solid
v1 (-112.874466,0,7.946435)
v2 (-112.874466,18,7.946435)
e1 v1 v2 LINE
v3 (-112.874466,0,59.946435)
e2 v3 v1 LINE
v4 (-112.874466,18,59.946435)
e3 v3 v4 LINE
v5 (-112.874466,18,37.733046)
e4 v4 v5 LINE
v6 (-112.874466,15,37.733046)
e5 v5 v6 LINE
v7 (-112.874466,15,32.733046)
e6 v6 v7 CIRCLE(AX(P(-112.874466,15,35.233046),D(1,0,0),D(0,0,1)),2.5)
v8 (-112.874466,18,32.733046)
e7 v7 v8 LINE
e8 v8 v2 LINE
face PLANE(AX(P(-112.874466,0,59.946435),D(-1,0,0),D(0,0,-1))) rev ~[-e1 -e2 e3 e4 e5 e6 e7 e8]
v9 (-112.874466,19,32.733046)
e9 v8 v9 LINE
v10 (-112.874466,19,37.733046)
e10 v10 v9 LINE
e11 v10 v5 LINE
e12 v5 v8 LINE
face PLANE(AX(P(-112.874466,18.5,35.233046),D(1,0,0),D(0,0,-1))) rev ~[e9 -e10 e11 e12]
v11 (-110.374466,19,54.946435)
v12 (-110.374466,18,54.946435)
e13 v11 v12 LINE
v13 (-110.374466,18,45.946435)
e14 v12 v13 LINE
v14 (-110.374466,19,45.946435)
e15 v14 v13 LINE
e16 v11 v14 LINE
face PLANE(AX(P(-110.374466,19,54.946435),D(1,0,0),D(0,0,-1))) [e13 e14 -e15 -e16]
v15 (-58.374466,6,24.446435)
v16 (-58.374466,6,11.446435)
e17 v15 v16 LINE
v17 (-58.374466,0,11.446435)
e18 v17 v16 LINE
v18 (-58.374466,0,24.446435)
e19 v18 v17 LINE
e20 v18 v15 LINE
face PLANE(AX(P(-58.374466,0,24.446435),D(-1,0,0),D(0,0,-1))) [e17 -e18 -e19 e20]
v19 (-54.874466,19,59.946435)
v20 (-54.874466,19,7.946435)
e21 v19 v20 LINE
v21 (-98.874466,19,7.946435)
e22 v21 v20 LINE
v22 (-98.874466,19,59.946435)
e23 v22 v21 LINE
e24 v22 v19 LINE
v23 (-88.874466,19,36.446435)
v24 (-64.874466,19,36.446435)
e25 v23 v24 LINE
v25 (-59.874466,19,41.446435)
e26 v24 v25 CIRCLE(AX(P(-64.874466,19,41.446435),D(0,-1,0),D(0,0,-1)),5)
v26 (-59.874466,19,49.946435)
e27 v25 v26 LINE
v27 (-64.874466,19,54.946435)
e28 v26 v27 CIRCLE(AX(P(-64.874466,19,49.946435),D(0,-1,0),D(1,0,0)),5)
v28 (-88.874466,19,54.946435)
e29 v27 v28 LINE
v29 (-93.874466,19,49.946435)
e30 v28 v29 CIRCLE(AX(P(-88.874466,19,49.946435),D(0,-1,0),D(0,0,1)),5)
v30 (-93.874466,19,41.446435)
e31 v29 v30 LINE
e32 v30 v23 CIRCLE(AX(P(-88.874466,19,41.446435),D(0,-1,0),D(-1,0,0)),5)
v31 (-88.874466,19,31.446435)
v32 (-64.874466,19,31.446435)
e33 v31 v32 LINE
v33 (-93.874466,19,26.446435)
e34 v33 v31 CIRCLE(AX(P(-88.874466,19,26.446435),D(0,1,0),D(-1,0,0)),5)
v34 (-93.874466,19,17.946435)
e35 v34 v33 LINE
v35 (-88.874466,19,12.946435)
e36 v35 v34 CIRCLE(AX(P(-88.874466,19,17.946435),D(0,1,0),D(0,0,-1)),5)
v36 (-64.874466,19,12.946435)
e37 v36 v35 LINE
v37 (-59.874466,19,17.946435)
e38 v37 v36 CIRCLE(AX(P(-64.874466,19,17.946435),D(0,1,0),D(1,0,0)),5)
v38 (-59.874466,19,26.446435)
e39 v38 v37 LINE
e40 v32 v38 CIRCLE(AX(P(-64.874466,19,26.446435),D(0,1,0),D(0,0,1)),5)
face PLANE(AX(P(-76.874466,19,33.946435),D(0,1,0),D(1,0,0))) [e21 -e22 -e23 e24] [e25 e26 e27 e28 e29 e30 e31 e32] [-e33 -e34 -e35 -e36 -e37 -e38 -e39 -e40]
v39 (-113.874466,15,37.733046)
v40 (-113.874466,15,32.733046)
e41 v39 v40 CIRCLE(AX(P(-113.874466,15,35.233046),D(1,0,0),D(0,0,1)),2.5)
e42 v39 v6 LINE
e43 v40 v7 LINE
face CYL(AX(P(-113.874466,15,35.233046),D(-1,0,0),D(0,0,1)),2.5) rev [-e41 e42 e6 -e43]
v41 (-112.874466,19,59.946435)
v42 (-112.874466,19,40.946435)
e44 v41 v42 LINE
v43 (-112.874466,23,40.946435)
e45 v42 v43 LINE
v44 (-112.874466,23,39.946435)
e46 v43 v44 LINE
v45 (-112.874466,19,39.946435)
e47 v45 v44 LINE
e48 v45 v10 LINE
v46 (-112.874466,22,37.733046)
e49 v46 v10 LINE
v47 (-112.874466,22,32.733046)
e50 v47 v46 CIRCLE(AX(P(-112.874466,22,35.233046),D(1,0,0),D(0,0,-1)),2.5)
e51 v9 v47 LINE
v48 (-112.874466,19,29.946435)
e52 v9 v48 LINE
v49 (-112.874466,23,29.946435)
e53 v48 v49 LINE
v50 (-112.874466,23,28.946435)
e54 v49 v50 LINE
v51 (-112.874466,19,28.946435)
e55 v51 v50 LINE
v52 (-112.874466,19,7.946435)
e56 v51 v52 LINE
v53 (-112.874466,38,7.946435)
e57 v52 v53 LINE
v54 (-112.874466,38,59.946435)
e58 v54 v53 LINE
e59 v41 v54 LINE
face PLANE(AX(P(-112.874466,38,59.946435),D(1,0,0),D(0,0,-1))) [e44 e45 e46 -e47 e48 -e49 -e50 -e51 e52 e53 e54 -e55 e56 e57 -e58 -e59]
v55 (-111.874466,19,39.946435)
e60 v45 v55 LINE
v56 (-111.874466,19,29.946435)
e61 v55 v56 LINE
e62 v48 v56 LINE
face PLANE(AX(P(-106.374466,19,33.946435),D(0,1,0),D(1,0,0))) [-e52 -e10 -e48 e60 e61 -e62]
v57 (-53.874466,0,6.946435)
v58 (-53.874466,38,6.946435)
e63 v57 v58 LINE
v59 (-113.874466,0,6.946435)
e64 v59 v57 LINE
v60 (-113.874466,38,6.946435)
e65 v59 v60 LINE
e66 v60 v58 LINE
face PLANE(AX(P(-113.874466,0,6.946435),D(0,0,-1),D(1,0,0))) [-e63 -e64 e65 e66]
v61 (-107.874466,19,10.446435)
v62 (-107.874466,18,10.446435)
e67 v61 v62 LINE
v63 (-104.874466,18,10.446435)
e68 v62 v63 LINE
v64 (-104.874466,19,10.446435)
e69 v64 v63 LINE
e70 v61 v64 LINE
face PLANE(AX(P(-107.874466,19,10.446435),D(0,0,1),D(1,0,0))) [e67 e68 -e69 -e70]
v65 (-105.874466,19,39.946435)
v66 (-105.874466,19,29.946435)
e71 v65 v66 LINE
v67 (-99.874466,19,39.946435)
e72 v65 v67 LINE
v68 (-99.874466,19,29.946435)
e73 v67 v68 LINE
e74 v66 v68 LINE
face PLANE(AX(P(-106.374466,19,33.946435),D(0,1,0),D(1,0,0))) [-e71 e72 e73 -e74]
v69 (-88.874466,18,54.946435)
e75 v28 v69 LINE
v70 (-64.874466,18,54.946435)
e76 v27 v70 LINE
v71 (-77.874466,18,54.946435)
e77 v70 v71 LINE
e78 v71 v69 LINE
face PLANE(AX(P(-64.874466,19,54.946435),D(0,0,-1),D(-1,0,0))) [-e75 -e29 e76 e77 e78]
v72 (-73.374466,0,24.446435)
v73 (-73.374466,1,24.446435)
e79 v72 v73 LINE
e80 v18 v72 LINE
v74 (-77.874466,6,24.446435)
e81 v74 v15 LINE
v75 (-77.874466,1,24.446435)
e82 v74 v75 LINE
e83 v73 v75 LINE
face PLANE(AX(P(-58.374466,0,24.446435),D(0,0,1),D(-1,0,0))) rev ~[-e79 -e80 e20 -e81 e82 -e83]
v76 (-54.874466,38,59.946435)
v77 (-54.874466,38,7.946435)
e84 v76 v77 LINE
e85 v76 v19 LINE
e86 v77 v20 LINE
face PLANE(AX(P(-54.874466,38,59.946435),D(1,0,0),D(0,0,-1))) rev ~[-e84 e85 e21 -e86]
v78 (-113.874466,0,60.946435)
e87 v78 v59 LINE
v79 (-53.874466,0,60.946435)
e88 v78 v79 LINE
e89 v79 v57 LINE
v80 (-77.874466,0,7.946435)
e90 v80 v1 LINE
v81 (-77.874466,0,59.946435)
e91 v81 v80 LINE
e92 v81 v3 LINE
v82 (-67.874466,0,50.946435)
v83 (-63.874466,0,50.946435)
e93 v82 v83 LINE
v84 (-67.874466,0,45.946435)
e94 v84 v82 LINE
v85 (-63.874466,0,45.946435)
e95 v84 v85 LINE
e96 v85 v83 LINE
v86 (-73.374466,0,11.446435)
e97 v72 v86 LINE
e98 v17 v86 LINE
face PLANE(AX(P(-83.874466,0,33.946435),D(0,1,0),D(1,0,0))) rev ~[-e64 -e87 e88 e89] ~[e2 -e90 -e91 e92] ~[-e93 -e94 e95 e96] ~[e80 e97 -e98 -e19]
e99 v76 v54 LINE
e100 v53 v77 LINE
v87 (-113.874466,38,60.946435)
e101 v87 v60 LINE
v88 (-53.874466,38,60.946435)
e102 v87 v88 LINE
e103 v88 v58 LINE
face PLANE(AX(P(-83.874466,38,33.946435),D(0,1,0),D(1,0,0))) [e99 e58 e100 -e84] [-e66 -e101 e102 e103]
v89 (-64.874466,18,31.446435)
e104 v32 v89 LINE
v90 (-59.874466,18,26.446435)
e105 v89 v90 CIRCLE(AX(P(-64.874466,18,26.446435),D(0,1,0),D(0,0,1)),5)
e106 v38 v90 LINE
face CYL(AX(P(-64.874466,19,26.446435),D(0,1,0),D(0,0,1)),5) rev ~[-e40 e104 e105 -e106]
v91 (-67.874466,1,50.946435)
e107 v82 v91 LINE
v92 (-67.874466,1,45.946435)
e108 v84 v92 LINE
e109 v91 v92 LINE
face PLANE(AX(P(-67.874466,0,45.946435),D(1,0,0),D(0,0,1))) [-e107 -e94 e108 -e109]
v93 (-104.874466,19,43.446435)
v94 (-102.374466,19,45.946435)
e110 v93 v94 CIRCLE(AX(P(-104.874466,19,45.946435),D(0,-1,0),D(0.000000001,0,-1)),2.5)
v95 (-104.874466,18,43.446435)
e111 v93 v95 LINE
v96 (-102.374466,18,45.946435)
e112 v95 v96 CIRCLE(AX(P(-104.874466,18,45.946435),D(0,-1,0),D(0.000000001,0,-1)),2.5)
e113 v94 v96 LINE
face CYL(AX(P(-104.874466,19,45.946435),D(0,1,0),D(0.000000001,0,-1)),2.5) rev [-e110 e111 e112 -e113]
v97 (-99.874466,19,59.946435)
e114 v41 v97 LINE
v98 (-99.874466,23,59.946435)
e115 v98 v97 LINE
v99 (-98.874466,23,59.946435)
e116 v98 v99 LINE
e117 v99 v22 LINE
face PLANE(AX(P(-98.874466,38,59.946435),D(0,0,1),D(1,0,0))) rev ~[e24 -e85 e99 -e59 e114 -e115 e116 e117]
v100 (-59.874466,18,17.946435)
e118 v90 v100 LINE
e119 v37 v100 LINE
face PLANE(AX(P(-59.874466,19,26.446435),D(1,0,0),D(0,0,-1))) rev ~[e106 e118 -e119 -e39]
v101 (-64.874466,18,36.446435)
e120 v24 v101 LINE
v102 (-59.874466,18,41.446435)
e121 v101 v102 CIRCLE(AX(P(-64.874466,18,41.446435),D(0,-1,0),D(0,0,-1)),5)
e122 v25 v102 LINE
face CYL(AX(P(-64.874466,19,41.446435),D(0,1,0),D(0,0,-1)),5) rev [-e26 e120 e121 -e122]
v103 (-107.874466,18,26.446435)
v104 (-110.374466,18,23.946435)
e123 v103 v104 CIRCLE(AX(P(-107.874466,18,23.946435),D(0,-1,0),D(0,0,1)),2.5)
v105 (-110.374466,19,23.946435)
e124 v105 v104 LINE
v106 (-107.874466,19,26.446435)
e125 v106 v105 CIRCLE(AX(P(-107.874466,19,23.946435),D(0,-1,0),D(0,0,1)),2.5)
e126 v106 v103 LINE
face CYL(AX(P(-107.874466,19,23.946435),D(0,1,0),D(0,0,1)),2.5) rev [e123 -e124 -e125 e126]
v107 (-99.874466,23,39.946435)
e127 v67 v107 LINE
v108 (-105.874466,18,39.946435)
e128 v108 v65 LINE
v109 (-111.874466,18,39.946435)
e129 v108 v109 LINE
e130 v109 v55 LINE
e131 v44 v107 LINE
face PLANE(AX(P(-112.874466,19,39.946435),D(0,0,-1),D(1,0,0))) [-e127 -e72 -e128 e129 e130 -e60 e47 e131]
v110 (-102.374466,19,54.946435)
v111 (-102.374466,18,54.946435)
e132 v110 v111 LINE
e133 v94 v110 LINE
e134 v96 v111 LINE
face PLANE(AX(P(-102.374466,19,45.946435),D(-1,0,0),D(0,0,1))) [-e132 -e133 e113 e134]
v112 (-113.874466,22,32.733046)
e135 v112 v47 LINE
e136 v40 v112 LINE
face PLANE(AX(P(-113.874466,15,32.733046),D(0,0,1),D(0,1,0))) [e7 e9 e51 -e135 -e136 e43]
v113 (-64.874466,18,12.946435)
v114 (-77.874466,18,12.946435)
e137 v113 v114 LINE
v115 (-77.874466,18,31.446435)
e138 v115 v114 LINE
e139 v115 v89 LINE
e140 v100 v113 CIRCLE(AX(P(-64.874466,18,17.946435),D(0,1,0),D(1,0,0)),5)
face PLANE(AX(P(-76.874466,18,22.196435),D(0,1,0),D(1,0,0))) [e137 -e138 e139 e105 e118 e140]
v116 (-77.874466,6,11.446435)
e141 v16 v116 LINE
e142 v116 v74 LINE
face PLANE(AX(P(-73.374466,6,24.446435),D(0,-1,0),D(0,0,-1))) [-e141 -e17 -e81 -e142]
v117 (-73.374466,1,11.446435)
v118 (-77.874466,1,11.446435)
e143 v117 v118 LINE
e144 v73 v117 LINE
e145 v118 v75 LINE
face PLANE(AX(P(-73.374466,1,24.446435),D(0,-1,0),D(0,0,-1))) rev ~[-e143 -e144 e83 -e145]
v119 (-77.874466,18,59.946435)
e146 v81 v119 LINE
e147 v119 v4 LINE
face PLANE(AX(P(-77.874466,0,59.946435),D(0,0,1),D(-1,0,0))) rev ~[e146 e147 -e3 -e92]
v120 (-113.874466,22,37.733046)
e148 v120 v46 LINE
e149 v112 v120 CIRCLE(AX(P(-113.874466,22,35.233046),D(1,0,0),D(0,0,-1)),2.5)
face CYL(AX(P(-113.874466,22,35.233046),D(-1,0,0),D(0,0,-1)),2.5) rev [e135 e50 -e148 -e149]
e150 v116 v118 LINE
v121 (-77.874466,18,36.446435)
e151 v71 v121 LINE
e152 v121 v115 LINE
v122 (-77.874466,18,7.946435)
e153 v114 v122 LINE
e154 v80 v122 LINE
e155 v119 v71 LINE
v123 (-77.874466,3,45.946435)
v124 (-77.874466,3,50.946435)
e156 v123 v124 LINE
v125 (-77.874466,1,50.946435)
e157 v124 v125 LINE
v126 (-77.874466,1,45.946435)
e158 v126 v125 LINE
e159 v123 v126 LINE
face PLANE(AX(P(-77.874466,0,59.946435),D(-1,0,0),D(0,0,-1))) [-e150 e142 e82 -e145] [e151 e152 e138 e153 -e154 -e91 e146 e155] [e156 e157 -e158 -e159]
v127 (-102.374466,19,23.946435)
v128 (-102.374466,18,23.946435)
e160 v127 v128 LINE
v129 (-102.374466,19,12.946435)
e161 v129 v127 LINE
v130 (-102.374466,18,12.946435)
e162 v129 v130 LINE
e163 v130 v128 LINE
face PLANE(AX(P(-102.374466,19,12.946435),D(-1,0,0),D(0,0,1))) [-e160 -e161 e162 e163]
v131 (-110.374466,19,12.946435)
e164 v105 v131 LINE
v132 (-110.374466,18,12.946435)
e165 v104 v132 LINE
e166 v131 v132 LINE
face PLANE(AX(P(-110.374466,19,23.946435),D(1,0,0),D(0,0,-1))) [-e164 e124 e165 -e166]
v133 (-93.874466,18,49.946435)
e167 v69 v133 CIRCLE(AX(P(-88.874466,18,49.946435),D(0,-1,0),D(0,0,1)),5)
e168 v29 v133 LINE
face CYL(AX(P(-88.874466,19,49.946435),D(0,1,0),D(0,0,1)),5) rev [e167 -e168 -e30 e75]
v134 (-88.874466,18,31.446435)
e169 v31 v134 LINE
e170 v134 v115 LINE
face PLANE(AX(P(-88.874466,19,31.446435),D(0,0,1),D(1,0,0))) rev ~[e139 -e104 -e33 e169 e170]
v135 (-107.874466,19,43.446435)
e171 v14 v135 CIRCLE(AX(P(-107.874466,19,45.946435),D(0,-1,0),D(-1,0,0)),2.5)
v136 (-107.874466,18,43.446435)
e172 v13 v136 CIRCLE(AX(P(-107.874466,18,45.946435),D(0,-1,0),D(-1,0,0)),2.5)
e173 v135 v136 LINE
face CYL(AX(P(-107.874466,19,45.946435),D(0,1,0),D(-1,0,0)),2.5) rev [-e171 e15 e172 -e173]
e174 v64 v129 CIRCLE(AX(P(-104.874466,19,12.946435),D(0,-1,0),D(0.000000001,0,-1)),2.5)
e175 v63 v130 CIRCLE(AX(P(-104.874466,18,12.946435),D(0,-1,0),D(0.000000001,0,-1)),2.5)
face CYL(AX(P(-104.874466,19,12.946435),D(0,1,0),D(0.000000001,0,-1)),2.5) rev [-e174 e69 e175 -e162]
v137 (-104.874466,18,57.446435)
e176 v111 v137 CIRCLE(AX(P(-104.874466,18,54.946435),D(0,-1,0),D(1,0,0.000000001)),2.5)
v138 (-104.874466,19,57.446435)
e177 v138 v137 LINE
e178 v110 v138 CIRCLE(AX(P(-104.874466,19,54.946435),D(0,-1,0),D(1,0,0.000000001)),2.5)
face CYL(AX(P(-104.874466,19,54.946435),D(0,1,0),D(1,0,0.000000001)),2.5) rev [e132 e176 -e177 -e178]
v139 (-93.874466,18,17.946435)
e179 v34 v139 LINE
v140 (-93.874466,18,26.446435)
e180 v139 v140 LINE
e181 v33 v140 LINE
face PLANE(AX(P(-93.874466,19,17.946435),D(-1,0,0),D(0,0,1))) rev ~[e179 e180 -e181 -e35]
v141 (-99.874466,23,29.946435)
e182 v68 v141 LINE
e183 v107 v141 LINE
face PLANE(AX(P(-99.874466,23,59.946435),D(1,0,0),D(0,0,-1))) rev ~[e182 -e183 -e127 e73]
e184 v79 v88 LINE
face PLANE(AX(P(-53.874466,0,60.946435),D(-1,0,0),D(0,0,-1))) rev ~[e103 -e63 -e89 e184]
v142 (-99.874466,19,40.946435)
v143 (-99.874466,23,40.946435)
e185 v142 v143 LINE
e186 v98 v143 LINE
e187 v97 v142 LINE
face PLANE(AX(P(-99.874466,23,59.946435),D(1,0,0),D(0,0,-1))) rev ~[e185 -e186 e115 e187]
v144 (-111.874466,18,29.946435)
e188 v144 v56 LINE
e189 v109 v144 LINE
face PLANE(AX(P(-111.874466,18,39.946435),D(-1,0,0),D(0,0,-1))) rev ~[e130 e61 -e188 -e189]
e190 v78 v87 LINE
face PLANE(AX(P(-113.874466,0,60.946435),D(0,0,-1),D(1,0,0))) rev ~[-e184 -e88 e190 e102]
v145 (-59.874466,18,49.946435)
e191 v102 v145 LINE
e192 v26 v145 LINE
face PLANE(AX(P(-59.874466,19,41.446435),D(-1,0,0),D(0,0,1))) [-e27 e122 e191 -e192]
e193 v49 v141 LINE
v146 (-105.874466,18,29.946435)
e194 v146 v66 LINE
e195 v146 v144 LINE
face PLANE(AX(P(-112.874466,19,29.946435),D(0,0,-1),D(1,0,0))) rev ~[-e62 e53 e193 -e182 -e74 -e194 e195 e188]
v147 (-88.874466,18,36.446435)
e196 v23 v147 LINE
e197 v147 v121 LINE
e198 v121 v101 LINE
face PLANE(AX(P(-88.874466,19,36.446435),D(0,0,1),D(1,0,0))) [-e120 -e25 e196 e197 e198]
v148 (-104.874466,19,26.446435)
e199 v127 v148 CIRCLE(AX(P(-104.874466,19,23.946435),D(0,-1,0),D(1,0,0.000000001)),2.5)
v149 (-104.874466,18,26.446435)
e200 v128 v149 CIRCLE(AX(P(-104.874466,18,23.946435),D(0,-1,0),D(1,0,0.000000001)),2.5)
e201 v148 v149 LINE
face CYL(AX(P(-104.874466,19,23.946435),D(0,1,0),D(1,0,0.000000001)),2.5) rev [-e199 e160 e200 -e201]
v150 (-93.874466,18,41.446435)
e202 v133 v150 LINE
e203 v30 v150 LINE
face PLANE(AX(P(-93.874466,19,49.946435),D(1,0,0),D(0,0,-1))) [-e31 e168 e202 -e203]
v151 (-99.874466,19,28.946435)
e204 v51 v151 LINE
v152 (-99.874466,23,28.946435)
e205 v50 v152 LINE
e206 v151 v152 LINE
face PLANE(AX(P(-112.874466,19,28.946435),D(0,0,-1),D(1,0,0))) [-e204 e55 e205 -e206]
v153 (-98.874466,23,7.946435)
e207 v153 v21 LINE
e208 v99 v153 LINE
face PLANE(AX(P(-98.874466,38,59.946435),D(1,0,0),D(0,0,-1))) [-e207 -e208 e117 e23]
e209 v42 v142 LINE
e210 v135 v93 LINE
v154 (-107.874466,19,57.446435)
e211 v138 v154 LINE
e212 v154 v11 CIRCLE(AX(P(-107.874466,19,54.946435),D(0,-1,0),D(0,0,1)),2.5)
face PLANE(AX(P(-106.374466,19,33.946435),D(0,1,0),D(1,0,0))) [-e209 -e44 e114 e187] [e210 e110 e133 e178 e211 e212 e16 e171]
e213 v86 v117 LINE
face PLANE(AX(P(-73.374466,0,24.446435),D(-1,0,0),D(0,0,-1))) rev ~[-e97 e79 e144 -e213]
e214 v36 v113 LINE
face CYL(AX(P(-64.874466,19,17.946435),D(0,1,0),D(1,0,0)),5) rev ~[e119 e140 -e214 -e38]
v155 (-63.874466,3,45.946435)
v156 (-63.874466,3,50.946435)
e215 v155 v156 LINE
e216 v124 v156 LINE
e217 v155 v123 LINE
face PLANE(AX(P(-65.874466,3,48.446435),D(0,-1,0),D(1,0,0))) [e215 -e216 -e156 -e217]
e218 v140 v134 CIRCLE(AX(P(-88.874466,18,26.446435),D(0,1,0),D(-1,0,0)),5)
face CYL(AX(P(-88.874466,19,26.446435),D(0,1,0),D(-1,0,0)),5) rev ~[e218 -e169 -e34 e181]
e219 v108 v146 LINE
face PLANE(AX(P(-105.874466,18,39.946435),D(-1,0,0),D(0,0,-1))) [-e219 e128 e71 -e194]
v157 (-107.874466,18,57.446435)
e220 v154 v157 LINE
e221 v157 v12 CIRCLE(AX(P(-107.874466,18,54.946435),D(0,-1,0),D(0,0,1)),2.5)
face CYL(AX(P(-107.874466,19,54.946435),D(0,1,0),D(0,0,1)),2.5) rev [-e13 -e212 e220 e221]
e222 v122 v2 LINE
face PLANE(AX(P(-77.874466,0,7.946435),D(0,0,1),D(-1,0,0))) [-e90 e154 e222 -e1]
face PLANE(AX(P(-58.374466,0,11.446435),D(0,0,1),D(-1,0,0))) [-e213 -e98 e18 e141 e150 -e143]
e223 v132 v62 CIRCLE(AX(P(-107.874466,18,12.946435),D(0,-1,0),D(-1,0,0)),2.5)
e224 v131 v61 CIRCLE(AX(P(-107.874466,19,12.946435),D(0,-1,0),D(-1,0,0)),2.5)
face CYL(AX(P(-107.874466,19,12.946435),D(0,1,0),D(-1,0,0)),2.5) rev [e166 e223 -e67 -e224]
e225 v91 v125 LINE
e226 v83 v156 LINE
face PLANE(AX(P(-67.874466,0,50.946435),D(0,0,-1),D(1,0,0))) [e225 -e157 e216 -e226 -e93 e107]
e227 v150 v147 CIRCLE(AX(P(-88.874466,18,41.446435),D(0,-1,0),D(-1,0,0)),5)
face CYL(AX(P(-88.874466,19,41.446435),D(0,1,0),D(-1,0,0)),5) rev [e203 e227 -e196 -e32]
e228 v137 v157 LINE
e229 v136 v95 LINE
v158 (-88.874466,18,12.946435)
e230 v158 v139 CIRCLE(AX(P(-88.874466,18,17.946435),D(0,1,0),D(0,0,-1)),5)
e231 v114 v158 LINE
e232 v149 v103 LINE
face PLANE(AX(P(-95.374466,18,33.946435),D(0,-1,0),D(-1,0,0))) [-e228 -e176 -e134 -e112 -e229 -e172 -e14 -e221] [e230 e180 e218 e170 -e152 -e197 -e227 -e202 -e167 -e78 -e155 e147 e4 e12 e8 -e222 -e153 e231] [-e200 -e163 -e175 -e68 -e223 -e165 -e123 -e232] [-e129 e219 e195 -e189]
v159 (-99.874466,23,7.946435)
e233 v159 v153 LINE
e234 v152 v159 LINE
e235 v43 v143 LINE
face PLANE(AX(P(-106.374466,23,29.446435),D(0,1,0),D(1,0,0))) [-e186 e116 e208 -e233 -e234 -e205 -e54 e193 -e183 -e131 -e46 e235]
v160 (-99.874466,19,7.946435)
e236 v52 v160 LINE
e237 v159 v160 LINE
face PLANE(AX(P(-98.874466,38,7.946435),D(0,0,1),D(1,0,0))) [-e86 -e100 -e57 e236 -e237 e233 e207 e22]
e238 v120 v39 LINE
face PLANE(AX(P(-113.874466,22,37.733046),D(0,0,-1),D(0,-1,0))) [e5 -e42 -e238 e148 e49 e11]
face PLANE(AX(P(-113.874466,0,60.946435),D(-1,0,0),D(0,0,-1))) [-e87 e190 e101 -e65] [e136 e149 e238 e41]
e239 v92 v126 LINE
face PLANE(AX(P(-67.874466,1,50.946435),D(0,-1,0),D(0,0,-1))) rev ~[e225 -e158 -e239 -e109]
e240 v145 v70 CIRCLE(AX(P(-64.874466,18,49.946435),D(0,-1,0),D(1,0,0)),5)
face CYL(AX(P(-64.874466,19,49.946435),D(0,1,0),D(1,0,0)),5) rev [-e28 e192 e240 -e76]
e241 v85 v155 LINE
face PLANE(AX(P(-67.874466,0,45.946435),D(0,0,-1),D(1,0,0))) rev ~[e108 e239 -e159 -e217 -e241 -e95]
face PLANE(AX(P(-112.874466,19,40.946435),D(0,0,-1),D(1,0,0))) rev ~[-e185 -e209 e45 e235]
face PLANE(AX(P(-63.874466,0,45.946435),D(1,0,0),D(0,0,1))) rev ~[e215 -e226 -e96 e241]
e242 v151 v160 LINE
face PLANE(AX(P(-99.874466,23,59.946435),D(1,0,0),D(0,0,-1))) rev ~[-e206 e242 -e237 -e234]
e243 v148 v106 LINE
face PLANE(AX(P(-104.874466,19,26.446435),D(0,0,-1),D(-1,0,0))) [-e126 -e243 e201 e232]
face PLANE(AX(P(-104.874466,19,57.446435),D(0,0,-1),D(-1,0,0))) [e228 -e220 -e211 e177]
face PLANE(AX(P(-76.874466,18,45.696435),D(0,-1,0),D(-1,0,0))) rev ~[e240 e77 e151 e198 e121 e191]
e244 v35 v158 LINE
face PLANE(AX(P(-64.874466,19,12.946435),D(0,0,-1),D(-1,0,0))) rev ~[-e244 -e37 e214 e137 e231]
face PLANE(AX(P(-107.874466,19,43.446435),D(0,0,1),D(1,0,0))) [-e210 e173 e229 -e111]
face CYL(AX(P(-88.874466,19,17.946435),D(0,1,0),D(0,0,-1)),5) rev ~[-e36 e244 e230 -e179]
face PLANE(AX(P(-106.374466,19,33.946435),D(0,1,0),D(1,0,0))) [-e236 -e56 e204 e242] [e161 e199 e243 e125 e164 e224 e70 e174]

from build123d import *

# Parameters (mm, degrees)
SKETCH1_W           = 60
SKETCH1_H           = 54
BOSS_EXTRUDE1_DEPTH = 38
SKETCH2_W           = 44
SKETCH2_H           = 52
CUT_EXTRUDE1_DEPTH  = 19
SKETCH3_W           = 35
SKETCH3_H           = 52
CUT_EXTRUDE2_DEPTH  = 18
SKETCH4_W           = 6
SKETCH4_H           = 10
CUT_EXTRUDE3_DEPTH  = 38
SKETCH5_W           = 14
SKETCH5_H           = 52
CUT_EXTRUDE5_DEPTH  = 15
SKETCH6_W           = 13
SKETCH6_H           = 52
CUT_EXTRUDE6_DEPTH  = 4
SKETCH8_W           = 15
SKETCH8_H           = 13
CUT_EXTRUDE7_DEPTH  = 6
SKETCH10_W          = 13
SKETCH10_H          = 5
CUT_EXTRUDE8_DEPTH  = 6
SKETCH11_W          = 4
SKETCH11_H          = 5
CUT_EXTRUDE9_DEPTH  = 3
SKETCH12_W          = 5
SKETCH12_H          = 2
CUT_EXTRUDE10_DEPTH = 13
CUT_EXTRUDE11_DEPTH = 1
SKETCH14_W          = 13
SKETCH14_H          = 1
BOSS_EXTRUDE2_DEPTH = 4
SKETCH15_W          = 13
SKETCH15_H          = 1
BOSS_EXTRUDE3_DEPTH = 4
CUT_EXTRUDE12_DEPTH = 1
CUT_EXTRUDE13_DEPTH = 1


with BuildPart() as part:
    # Sketch1 → Boss-Extrude1 (new body)
    with BuildSketch(Plane(origin=(0, 0, 0), x_dir=(1, 0, 0), z_dir=(0, 1, 0))):
        with Locations((-83.874465942, -33.946435202)):
            Rectangle(SKETCH1_W, SKETCH1_H)
    extrude(amount=BOSS_EXTRUDE1_DEPTH)

    # Sketch2 → Cut-Extrude1 (cut)
    with BuildSketch(Plane(origin=(0, 38, 0), x_dir=(1, 0, 0), z_dir=(0, 1, 0))):
        with Locations((-76.874465942, -33.946435202)):
            Rectangle(SKETCH2_W, SKETCH2_H)
    extrude(amount=-CUT_EXTRUDE1_DEPTH, mode=Mode.SUBTRACT)

    # Sketch3 → Cut-Extrude2 (cut)
    with BuildSketch(Plane(origin=(0, 0, 0), x_dir=(-1, 0, 0), z_dir=(0, -1, 0))):
        with Locations((95.374465942, -33.946435202)):
            Rectangle(SKETCH3_W, SKETCH3_H)
    extrude(amount=-CUT_EXTRUDE2_DEPTH, mode=Mode.SUBTRACT)

    # Sketch4 → Cut-Extrude3 (cut)
    with BuildSketch(Plane(origin=(0, 18, 0), x_dir=(-1, 0, 0), z_dir=(0, -1, 0))):
        with Locations((108.874465942, -34.946435202)):
            Rectangle(SKETCH4_W, SKETCH4_H)
    extrude(amount=-CUT_EXTRUDE3_DEPTH, mode=Mode.SUBTRACT)

    # Sketch5 → Cut-Extrude5 (cut)
    with BuildSketch(Plane(origin=(0, 38, 0), x_dir=(1, 0, 0), z_dir=(0, 1, 0))):
        with Locations((-105.874465942, -33.946435202)):
            Rectangle(SKETCH5_W, SKETCH5_H)
    extrude(amount=-CUT_EXTRUDE5_DEPTH, mode=Mode.SUBTRACT)

    # Sketch6 → Cut-Extrude6 (cut)
    with BuildSketch(Plane(origin=(0, 23, 0), x_dir=(1, 0, 0), z_dir=(0, 1, 0))):
        with Locations((-106.374465942, -33.946435202)):
            Rectangle(SKETCH6_W, SKETCH6_H)
    extrude(amount=-CUT_EXTRUDE6_DEPTH, mode=Mode.SUBTRACT)

    # Sketch8 → Cut-Extrude7 (cut)
    with BuildSketch(Plane(origin=(0, 0, 0), x_dir=(-1, 0, 0), z_dir=(0, -1, 0))):
        with Locations((65.874465942, -17.946435202)):
            Rectangle(SKETCH8_W, SKETCH8_H)
    extrude(amount=-CUT_EXTRUDE7_DEPTH, mode=Mode.SUBTRACT)

    # Sketch10 → Cut-Extrude8 (cut)
    with BuildSketch(Plane(origin=(-73.374465942, 0, 0), x_dir=(0, 0, -1), z_dir=(1, 0, 0))):
        with Locations((-17.946435202, 3.5)):
            Rectangle(SKETCH10_W, SKETCH10_H)
    extrude(amount=-CUT_EXTRUDE8_DEPTH, mode=Mode.SUBTRACT)

    # Sketch11 → Cut-Extrude9 (cut)
    with BuildSketch(Plane.XZ):
        with Locations((-65.874465942, 48.446435202)):
            Rectangle(SKETCH11_W, SKETCH11_H)
    extrude(amount=-CUT_EXTRUDE9_DEPTH, mode=Mode.SUBTRACT)

    # Sketch12 → Cut-Extrude10 (cut)
    with BuildSketch(Plane(origin=(-67.874465942, 0, 0), x_dir=(0, 0, -1), z_dir=(1, 0, 0))):
        with Locations((-48.446435202, 2)):
            Rectangle(SKETCH12_W, SKETCH12_H)
    extrude(amount=-CUT_EXTRUDE10_DEPTH, mode=Mode.SUBTRACT)

    # Sketch13 → Cut-Extrude11 (cut)
    with BuildSketch(Plane.ZY.offset(113.874465942)):
        with BuildLine():
            Line((32.733045904, 15), (32.733045904, 22))
            ThreePointArc((32.733045904, 22), (35.233045904, 24.5), (37.733045904, 22))
            Line((37.733045904, 22), (37.733045904, 15))
            ThreePointArc((37.733045904, 15), (35.233045904, 12.5), (32.733045904, 15))
        make_face()
    extrude(amount=-CUT_EXTRUDE11_DEPTH, mode=Mode.SUBTRACT)

    # Sketch14 → Boss-Extrude2 (add)
    with BuildSketch(Plane(origin=(0, 19, 0), x_dir=(1, 0, 0), z_dir=(0, 1, 0))):
        with Locations((-106.374465942, -40.446435202)):
            Rectangle(SKETCH14_W, SKETCH14_H)
    extrude(amount=BOSS_EXTRUDE2_DEPTH)

    # Sketch15 → Boss-Extrude3 (add)
    with BuildSketch(Plane(origin=(0, 19, 0), x_dir=(1, 0, 0), z_dir=(0, 1, 0))):
        with Locations((-106.374465942, -29.446435202)):
            Rectangle(SKETCH15_W, SKETCH15_H)
    extrude(amount=BOSS_EXTRUDE3_DEPTH)

    # Sketch16 → Cut-Extrude12 (cut)
    with BuildSketch(Plane(origin=(0, 19, 0), x_dir=(1, 0, 0), z_dir=(0, 1, 0))):
        with BuildLine():
            Line((-64.874465942, -54.946435202), (-88.874465942, -54.946435202))
            ThreePointArc((-88.874465942, -54.946435202), (-92.409999848, -53.481969108), (-93.874465942, -49.946435202))
            Line((-93.874465942, -49.946435202), (-93.874465942, -41.446435202))
            ThreePointArc((-93.874465942, -41.446435202), (-92.409999848, -37.910901296), (-88.874465942, -36.446435202))
            Line((-88.874465942, -36.446435202), (-64.874465942, -36.446435202))
            ThreePointArc((-64.874465942, -36.446435202), (-61.338932037, -37.910901296), (-59.874465942, -41.446435202))
            Line((-59.874465942, -41.446435202), (-59.874465942, -49.946435202))
            ThreePointArc((-59.874465942, -49.946435202), (-61.338932037, -53.481969108), (-64.874465942, -54.946435202))
        make_face()
        with BuildLine():
            Line((-88.874465942, -31.446435202), (-64.874465942, -31.446435202))
            ThreePointArc((-64.874465942, -31.446435202), (-61.338932037, -29.981969108), (-59.874465942, -26.446435202))
            Line((-59.874465942, -26.446435202), (-59.874465942, -17.946435202))
            ThreePointArc((-59.874465942, -17.946435202), (-61.338932037, -14.410901296), (-64.874465942, -12.946435202))
            Line((-64.874465942, -12.946435202), (-88.874465942, -12.946435202))
            ThreePointArc((-88.874465942, -12.946435202), (-92.409999848, -14.410901296), (-93.874465942, -17.946435202))
            Line((-93.874465942, -17.946435202), (-93.874465942, -26.446435202))
            ThreePointArc((-93.874465942, -26.446435202), (-92.409999848, -29.981969108), (-88.874465942, -31.446435202))
        make_face()
    extrude(amount=-CUT_EXTRUDE12_DEPTH, mode=Mode.SUBTRACT)

    # Sketch17 → Cut-Extrude13 (cut)
    with BuildSketch(Plane(origin=(0, 19, 0), x_dir=(1, 0, 0), z_dir=(0, 1, 0))):
        with BuildLine():
            Line((-104.874465942, -57.446435202), (-107.874465942, -57.446435202))
            ThreePointArc((-107.874465942, -57.446435202), (-109.642232895, -56.714202155), (-110.374465942, -54.946435202))
            Line((-110.374465942, -54.946435202), (-110.374465942, -45.946435202))
            ThreePointArc((-110.374465942, -45.946435202), (-109.642232895, -44.178668249), (-107.874465942, -43.446435202))
            Line((-107.874465942, -43.446435202), (-104.874465942, -43.446435202))
            ThreePointArc((-104.874465942, -43.446435202), (-103.10669899, -44.178668249), (-102.374465942, -45.946435202))
            Line((-102.374465942, -45.946435202), (-102.374465942, -54.946435202))
            ThreePointArc((-102.374465942, -54.946435202), (-103.10669899, -56.714202155), (-104.874465942, -57.446435202))
        make_face()
        with BuildLine():
            Line((-104.874465942, -26.446435202), (-107.874465942, -26.446435202))
            ThreePointArc((-107.874465942, -26.446435202), (-109.642232895, -25.714202155), (-110.374465942, -23.946435202))
            Line((-110.374465942, -23.946435202), (-110.374465942, -12.946435202))
            ThreePointArc((-110.374465942, -12.946435202), (-109.642232895, -11.178668249), (-107.874465942, -10.446435202))
            Line((-107.874465942, -10.446435202), (-104.874465942, -10.446435202))
            ThreePointArc((-104.874465942, -10.446435202), (-103.10669899, -11.178668249), (-102.374465942, -12.946435202))
            Line((-102.374465942, -12.946435202), (-102.374465942, -23.946435202))
            ThreePointArc((-102.374465942, -23.946435202), (-103.10669899, -25.714202155), (-104.874465942, -26.446435202))
        make_face()
    extrude(amount=-CUT_EXTRUDE13_DEPTH, mode=Mode.SUBTRACT)


solid = part.part
